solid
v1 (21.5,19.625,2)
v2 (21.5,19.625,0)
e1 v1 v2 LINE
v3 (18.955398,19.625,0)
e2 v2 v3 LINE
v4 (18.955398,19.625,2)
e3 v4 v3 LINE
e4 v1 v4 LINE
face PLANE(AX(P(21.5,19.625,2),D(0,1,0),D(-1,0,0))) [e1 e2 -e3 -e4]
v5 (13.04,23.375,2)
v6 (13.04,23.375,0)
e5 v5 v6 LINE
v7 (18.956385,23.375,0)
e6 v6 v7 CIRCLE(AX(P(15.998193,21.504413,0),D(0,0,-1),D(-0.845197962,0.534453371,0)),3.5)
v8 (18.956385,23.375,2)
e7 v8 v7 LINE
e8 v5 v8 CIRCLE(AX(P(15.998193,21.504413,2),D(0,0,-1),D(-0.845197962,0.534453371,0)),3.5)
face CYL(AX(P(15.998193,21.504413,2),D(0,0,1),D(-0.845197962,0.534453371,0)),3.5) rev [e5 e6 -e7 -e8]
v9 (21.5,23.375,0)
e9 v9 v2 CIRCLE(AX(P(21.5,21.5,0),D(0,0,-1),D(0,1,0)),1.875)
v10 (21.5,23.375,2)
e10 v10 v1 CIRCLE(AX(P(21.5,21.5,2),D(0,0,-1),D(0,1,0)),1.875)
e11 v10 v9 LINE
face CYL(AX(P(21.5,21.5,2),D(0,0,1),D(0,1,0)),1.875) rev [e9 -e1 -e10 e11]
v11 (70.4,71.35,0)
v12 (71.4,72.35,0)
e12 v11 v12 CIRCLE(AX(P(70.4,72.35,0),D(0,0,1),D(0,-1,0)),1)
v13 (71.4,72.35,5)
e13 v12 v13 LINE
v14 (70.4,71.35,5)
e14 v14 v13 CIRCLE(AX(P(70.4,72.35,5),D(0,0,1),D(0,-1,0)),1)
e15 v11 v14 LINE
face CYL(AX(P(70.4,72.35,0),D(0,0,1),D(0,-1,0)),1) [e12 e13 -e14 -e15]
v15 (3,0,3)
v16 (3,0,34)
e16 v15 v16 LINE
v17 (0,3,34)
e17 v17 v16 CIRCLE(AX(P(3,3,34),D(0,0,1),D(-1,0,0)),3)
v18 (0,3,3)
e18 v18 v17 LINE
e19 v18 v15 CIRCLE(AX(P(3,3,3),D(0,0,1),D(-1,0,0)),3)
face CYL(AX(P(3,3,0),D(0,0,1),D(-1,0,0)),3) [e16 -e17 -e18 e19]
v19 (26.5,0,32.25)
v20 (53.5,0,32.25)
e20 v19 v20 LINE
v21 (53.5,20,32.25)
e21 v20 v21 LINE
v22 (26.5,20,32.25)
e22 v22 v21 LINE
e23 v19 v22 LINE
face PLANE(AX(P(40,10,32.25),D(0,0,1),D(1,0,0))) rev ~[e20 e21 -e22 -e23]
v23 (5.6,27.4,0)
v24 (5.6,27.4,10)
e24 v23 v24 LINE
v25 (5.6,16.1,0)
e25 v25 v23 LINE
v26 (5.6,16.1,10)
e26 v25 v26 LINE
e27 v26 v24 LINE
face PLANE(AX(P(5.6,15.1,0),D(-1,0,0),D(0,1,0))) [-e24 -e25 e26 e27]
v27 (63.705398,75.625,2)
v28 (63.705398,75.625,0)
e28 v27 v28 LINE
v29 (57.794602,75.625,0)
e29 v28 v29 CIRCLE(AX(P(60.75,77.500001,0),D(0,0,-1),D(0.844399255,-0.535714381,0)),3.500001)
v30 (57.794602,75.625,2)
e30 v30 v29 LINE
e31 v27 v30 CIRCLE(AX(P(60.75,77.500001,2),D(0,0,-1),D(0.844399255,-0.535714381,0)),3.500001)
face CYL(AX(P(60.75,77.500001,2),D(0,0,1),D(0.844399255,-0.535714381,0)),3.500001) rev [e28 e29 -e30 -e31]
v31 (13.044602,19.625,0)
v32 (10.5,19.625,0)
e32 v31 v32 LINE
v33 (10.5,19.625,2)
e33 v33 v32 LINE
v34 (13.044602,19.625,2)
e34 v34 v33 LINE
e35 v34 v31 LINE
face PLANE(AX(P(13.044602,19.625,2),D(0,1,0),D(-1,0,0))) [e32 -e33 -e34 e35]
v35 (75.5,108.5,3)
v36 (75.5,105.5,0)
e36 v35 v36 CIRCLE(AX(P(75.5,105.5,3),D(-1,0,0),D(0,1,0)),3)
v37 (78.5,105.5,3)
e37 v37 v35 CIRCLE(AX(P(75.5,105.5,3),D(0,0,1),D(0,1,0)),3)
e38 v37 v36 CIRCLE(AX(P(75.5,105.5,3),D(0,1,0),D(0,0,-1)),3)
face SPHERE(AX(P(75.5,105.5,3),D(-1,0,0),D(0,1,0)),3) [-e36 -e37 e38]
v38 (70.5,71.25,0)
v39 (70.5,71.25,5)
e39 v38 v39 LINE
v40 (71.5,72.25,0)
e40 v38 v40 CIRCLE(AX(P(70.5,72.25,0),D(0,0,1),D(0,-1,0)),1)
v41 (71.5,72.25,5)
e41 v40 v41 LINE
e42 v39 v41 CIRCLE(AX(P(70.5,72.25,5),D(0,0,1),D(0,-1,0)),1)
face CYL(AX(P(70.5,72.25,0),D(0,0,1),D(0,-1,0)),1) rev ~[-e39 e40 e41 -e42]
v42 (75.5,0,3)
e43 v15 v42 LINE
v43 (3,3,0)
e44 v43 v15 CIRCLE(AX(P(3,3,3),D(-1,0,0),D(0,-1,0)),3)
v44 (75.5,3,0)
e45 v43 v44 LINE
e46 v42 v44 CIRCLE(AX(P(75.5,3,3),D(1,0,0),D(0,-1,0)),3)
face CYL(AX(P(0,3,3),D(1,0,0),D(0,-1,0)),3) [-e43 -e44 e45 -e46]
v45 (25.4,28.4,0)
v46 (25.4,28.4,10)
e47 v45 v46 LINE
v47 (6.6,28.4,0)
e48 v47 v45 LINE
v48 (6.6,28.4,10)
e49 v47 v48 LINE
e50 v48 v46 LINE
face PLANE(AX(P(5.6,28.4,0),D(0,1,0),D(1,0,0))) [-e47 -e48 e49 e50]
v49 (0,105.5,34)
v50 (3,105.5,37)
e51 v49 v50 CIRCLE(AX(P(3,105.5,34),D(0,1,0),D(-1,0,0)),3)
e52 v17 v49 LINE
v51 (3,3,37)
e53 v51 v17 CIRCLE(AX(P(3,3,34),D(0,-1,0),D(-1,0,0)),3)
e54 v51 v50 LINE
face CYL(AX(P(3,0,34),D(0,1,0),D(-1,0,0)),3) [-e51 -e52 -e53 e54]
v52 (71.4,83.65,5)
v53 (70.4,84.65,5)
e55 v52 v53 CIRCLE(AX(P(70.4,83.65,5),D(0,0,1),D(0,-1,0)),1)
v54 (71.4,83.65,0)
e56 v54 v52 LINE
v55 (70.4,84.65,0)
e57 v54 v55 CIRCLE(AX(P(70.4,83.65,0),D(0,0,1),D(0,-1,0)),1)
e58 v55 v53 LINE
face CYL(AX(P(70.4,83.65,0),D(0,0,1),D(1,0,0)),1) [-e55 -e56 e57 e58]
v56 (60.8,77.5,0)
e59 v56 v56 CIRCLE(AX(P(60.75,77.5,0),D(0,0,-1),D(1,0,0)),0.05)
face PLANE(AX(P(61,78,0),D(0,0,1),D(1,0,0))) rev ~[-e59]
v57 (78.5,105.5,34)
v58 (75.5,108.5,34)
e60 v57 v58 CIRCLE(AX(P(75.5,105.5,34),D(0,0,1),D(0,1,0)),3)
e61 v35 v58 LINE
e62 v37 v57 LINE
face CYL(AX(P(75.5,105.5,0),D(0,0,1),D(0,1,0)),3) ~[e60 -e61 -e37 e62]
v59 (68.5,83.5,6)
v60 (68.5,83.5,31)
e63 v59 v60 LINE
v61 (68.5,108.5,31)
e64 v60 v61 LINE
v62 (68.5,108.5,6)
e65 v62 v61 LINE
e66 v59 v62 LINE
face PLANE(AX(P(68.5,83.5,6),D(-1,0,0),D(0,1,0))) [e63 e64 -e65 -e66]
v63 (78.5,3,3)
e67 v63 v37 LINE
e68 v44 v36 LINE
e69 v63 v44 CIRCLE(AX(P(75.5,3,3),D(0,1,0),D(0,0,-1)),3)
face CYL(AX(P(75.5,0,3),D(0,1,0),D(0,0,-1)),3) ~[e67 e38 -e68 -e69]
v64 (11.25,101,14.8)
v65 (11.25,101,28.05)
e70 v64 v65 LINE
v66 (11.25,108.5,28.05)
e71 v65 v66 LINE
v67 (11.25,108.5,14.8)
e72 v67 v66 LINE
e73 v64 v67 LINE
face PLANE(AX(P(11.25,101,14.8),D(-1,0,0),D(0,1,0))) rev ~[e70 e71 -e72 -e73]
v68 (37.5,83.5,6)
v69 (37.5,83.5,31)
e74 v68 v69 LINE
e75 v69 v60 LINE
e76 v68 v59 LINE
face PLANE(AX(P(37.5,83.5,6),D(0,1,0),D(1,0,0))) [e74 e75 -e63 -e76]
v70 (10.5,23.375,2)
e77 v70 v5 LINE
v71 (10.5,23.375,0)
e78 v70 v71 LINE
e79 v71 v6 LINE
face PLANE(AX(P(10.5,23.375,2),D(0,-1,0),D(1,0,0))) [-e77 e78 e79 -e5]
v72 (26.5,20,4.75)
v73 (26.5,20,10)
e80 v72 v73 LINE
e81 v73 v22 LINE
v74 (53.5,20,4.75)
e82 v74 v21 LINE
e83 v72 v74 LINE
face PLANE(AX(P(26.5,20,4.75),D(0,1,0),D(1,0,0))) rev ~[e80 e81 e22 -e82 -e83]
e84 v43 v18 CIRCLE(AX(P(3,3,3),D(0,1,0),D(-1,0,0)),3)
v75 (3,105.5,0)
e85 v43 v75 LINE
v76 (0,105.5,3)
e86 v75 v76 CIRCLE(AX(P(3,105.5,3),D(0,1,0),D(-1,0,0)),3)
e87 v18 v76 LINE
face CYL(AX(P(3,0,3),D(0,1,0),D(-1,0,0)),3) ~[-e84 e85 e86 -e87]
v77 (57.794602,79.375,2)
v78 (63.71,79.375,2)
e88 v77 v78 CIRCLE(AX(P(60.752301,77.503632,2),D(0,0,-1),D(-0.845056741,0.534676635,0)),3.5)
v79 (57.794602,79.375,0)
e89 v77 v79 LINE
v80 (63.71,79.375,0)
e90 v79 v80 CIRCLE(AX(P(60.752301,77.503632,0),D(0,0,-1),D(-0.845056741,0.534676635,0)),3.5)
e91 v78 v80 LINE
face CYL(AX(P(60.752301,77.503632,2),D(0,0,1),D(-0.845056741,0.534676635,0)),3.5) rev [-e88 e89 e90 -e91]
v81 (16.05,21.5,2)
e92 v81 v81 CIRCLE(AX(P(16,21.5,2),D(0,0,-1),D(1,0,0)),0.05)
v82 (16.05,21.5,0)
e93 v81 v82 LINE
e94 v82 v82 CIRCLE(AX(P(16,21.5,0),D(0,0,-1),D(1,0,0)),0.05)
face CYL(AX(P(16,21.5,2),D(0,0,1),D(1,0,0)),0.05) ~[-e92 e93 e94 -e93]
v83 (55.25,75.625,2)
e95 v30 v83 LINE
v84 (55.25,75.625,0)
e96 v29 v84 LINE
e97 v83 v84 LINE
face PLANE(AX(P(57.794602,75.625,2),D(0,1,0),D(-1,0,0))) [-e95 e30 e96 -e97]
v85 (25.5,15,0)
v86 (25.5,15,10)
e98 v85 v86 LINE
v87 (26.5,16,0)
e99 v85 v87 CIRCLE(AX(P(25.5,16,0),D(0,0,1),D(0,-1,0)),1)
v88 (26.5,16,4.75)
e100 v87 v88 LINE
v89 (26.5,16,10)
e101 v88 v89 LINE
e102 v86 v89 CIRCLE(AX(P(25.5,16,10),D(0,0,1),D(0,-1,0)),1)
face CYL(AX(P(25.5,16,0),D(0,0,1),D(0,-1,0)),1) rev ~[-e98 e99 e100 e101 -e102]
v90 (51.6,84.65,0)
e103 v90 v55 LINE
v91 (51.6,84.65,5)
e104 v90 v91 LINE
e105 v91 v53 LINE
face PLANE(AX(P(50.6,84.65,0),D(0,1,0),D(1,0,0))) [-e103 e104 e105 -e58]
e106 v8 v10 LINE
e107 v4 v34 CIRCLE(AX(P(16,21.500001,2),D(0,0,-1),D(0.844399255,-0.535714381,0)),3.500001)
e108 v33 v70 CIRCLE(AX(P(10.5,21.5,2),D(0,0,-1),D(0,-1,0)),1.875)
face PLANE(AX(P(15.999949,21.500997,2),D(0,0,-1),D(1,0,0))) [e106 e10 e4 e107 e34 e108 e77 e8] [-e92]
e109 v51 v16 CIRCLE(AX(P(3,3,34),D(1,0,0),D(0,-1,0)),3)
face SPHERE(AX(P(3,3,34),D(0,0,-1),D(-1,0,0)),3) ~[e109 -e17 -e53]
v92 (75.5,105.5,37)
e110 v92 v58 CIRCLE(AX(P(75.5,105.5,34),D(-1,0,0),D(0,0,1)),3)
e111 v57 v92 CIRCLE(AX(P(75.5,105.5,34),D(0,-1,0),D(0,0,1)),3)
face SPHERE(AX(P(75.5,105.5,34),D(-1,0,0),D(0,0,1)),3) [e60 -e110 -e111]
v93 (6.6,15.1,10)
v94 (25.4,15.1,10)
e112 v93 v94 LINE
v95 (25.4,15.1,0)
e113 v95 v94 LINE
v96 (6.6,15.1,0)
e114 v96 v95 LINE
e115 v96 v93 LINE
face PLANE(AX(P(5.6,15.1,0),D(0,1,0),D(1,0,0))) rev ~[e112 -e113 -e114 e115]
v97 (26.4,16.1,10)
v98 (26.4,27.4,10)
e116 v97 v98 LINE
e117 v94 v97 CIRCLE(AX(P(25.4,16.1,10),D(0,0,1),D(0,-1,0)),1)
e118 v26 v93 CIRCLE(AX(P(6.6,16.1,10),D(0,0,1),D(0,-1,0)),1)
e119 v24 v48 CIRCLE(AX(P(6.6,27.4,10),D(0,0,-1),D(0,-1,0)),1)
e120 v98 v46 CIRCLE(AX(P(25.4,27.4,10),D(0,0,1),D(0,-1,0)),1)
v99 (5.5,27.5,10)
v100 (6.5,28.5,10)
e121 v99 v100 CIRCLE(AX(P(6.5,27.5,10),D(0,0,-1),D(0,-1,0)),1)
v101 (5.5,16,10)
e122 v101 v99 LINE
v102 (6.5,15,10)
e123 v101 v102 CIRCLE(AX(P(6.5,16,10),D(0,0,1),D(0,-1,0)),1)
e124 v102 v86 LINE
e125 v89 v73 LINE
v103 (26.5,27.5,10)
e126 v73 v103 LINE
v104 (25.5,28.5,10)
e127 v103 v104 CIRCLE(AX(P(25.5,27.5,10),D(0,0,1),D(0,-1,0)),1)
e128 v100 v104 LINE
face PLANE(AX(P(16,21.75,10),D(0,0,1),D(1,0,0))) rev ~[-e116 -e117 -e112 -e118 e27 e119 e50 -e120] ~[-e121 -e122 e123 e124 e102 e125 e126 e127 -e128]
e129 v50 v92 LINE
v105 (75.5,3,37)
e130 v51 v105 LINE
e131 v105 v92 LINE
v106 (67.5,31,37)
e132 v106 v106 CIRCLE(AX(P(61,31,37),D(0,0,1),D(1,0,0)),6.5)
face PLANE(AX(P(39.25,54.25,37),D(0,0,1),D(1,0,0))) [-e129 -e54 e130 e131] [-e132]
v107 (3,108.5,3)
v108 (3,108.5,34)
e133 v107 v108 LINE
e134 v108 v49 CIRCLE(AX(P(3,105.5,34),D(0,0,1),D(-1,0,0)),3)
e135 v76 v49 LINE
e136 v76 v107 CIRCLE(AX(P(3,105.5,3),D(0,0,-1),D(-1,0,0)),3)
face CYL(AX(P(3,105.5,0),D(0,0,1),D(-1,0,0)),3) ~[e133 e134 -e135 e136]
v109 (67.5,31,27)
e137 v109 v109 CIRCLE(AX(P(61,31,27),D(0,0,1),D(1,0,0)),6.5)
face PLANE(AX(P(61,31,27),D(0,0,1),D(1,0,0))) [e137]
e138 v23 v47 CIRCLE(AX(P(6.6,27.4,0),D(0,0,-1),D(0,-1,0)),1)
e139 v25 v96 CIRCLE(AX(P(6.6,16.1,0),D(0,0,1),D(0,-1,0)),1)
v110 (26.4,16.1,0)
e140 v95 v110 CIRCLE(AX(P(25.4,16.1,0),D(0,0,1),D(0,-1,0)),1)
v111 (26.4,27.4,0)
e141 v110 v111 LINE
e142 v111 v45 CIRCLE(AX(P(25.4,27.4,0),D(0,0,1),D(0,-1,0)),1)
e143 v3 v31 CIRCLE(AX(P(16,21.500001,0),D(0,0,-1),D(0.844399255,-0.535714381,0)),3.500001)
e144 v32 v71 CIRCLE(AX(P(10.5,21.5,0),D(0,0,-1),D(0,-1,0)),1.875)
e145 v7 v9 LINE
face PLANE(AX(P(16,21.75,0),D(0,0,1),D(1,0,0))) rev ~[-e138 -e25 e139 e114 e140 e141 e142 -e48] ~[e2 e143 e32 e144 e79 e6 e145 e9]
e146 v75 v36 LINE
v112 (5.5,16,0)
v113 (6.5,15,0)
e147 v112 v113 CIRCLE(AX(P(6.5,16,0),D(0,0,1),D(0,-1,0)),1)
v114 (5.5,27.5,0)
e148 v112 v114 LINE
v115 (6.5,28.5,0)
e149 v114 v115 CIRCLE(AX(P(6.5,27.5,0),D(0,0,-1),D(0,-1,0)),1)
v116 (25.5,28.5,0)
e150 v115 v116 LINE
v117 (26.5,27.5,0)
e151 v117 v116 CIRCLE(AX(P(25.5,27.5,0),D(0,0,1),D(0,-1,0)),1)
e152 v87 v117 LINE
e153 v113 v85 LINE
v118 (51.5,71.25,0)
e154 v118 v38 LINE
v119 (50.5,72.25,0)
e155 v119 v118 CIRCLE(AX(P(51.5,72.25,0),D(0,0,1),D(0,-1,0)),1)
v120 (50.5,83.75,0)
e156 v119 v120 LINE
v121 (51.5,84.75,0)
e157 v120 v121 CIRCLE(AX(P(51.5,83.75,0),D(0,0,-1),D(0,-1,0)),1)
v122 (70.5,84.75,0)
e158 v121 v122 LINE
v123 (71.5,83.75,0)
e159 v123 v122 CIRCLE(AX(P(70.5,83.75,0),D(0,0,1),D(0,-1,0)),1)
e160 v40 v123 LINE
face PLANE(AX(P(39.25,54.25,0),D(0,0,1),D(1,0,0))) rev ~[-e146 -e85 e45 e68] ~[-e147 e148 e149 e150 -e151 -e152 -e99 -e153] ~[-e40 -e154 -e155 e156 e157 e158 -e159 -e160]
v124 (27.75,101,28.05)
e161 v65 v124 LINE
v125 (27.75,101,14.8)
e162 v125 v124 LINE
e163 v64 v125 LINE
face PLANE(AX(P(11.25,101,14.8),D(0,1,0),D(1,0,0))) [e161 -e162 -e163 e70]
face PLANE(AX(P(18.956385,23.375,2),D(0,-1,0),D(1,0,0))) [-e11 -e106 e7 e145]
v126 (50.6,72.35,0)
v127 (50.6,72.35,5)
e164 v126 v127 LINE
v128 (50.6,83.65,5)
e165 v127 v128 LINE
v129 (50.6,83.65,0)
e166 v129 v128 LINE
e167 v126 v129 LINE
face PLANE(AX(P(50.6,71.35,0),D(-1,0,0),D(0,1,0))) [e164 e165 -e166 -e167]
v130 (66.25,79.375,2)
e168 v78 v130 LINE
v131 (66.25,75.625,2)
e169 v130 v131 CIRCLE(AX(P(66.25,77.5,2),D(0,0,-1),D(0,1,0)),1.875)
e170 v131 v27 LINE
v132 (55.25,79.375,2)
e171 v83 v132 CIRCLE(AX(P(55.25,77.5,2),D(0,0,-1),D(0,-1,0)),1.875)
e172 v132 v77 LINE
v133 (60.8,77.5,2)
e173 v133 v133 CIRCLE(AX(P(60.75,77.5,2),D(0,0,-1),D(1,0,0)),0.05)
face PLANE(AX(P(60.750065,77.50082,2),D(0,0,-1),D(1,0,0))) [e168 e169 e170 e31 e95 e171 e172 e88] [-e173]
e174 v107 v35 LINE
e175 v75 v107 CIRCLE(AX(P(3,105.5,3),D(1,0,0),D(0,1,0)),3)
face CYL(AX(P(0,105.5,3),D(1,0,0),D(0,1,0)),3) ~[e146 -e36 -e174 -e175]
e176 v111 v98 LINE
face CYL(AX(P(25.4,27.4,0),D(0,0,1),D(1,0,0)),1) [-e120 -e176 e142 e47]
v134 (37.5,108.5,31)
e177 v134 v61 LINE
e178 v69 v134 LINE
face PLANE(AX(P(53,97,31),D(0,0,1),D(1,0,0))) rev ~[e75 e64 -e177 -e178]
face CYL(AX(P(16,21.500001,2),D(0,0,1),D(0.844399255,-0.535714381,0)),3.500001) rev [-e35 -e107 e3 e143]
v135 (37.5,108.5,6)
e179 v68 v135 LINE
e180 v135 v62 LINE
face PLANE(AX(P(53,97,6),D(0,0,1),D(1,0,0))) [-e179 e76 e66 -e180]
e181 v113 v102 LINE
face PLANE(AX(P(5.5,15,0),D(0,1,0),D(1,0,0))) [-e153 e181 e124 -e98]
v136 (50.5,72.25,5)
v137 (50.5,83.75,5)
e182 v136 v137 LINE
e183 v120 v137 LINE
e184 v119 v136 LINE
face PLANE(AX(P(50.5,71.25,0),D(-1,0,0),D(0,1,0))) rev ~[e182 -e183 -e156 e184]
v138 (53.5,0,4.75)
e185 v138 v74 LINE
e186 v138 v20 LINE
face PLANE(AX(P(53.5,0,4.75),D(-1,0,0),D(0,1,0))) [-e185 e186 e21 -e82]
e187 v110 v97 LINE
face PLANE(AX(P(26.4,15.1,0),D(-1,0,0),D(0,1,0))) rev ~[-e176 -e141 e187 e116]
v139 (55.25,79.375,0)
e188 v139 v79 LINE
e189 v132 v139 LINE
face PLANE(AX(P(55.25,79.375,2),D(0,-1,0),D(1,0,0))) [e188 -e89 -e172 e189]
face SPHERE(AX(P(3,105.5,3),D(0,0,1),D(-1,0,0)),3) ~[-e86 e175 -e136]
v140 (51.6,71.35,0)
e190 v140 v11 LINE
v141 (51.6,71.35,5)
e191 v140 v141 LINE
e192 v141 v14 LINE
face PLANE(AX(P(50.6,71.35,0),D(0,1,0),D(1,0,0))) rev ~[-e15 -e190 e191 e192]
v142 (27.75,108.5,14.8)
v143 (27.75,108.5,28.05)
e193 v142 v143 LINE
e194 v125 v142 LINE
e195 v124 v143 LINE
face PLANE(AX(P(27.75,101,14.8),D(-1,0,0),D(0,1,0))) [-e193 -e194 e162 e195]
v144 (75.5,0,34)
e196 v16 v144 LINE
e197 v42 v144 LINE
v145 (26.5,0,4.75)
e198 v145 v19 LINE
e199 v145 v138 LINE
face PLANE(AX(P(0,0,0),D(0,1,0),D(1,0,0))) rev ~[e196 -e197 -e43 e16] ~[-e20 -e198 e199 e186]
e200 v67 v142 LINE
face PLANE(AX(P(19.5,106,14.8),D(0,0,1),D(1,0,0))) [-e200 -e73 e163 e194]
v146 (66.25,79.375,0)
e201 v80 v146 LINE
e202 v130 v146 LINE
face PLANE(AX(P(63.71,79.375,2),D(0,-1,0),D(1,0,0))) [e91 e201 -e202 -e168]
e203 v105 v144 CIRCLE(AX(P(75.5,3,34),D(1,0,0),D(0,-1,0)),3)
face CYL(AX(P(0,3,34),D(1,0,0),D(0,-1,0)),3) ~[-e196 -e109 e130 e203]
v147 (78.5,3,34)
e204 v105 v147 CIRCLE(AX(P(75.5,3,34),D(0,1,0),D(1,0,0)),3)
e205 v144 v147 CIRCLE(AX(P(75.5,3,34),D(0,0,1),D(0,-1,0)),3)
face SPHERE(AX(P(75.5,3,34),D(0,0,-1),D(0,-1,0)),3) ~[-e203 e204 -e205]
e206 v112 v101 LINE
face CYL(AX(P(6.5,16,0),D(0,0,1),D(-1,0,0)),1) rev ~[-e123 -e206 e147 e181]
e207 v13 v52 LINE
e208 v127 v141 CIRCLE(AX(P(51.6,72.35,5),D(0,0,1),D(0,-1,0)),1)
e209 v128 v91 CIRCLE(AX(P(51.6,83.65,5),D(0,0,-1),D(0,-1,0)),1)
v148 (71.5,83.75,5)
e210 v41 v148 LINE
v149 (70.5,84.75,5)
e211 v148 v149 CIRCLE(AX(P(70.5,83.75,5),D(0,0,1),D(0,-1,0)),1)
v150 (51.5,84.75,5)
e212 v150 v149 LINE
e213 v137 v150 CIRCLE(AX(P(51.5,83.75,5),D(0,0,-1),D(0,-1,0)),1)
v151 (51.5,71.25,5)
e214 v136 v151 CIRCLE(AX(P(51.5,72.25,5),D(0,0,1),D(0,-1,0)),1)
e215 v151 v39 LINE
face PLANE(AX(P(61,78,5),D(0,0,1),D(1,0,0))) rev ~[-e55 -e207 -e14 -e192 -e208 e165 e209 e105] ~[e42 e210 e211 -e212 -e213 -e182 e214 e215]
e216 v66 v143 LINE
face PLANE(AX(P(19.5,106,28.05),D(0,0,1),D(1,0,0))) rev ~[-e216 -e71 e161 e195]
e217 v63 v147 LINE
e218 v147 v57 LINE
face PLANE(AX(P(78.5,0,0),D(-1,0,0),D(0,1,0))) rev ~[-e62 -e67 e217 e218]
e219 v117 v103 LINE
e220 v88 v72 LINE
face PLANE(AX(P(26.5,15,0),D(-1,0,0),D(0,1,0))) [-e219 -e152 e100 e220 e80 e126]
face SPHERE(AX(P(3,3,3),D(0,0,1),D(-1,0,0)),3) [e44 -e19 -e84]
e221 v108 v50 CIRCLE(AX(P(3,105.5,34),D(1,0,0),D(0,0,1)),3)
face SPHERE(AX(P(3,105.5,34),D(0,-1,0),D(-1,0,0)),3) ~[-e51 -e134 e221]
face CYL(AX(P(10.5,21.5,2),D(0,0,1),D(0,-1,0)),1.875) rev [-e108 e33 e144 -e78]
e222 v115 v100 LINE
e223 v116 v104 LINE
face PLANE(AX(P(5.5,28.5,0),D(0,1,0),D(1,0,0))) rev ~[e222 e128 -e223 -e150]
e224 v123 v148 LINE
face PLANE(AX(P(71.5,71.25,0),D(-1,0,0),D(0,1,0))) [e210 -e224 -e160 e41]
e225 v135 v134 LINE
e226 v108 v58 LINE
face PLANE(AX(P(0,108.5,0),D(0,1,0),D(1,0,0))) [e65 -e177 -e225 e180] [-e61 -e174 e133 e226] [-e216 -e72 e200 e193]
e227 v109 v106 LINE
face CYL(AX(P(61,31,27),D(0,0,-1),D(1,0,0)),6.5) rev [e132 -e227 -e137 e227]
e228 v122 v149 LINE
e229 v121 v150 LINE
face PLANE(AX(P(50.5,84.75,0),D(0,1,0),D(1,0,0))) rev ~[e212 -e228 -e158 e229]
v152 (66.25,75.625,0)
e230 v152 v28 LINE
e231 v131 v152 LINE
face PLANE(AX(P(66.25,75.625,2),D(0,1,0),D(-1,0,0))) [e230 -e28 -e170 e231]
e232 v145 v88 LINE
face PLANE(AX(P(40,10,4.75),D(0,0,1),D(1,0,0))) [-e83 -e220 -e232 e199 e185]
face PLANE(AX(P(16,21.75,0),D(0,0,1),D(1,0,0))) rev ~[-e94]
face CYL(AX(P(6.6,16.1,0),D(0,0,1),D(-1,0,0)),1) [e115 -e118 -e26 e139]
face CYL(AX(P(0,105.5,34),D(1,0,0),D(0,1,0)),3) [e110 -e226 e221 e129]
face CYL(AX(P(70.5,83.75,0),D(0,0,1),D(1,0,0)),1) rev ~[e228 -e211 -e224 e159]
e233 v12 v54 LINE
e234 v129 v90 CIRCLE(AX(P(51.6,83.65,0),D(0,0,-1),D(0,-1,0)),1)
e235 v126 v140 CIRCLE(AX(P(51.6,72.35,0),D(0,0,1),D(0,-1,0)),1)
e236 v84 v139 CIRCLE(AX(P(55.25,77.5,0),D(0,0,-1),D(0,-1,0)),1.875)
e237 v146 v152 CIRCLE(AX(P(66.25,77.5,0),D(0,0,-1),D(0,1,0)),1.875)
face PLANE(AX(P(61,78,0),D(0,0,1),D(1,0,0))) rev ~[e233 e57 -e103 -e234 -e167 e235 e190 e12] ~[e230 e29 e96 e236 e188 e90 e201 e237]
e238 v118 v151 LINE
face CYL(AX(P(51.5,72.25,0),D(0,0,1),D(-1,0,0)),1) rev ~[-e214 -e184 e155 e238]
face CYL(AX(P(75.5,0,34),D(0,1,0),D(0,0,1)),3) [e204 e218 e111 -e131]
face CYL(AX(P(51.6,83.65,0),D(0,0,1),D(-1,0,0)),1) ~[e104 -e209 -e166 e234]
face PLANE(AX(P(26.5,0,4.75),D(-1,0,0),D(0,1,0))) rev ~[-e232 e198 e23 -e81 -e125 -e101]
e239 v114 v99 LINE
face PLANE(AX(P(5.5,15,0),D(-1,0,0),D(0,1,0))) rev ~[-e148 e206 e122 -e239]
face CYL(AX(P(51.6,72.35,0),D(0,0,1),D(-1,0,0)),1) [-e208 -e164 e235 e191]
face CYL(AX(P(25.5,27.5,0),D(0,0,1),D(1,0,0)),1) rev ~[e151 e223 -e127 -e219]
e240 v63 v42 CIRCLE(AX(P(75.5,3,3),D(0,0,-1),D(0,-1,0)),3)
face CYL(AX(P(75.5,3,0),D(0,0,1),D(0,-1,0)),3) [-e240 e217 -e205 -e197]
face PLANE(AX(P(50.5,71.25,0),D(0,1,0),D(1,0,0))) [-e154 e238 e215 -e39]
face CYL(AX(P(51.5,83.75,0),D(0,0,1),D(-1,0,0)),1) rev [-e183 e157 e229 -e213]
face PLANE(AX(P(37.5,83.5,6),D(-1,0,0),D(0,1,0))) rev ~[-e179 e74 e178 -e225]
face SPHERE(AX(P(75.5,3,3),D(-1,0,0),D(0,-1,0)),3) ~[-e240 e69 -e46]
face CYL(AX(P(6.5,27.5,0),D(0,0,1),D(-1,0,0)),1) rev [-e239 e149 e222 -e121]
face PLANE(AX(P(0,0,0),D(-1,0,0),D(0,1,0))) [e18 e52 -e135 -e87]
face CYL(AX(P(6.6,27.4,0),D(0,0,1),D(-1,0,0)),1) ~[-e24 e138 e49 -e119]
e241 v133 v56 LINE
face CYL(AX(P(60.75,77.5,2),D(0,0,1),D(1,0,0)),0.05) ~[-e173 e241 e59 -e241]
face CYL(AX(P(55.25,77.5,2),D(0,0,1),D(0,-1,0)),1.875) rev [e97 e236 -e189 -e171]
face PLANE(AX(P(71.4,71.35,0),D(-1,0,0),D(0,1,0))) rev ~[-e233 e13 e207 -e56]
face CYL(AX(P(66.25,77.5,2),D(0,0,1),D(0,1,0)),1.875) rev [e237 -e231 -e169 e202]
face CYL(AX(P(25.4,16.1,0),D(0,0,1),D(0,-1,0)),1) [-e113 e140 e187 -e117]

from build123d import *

# Parameters (mm, degrees)
SKETCH001_R       = 0.05
EXTRUDE001_DEPTH  = 2
BOX017_W          = 21
BOX017_H          = 13.5
BOX017_DEPTH      = 5
FILLET006_R       = 1
BOX007_W          = 21
BOX007_H          = 13.5
BOX007_DEPTH      = 10
FILLET004_R       = 1
BOX006_W          = 16.5
BOX006_H          = 10
BOX006_DEPTH      = 13.25
BOX005_W          = 31
BOX005_H          = 27
BOX005_DEPTH      = 25
CYLINDER004_R     = 6.5
CYLINDER004_DEPTH = 10
BOX014_W          = 27
BOX014_H          = 20
BOX014_DEPTH      = 27.5
BOX013_W          = 78.5
BOX013_H          = 108.5
BOX013_DEPTH      = 37
FILLET003_R       = 3
BOX018_W          = 20.8
BOX018_H          = 13.3
BOX018_DEPTH      = 5
FILLET007_R       = 1
BOX016_W          = 20.8
BOX016_H          = 13.3
BOX016_DEPTH      = 10
FILLET005_R       = 1


with BuildPart() as extrude001:
    # Sketch001 → Extrude001 (new body)
    with BuildSketch(Plane(origin=(0, 0, 0), x_dir=(1, 0, 0), z_dir=(0, 0, -1))):
        with BuildLine():
            ThreePointArc((10.5, -19.625), (8.625, -21.5), (10.5, -23.375))
            Line((10.5, -23.375), (13.04, -23.375))
            ThreePointArc((13.04, -23.375), (15.998193, -25.004413), (18.956385, -23.375))
            Line((18.956385, -23.375), (21.5, -23.375))
            ThreePointArc((21.5, -23.375), (23.375, -21.5), (21.5, -19.625))
            Line((21.5, -19.625), (18.955398, -19.625))
            ThreePointArc((18.955398, -19.625), (16, -18), (13.044602, -19.625))
            Line((13.044602, -19.625), (10.5, -19.625))
        make_face()
        with Locations((16, -21.5)):
            Circle(SKETCH001_R, mode=Mode.SUBTRACT)
        with BuildLine():
            ThreePointArc((55.25, -75.625), (53.375, -77.5), (55.25, -79.375))
            Line((55.25, -79.375), (57.794602, -79.375))
            ThreePointArc((57.794602, -79.375), (60.752301, -81.003632), (63.71, -79.375))
            Line((63.71, -79.375), (66.25, -79.375))
            ThreePointArc((66.25, -79.375), (68.125, -77.5), (66.25, -75.625))
            Line((66.25, -75.625), (63.705398, -75.625))
            ThreePointArc((63.705398, -75.625), (60.75, -74), (57.794602, -75.625))
            Line((57.794602, -75.625), (55.25, -75.625))
        make_face()
        with Locations((60.75, -77.5)):
            Circle(SKETCH001_R, mode=Mode.SUBTRACT)
    extrude(amount=EXTRUDE001_DEPTH)


with BuildPart() as extrude001_1:
    # Extrude001 placement: moved
    add(extrude001.part.moved(Location((0, 0, 2))))


with BuildPart() as key_hole001:
    # Box017 → Box017 (new body)
    with BuildSketch(Plane(origin=(5.5, 13.5, 0), x_dir=(1, 0, 0), z_dir=(0, 0, 1))):
        with Locations((10.5, 6.75)):
            Rectangle(BOX017_W, BOX017_H)
    extrude(amount=BOX017_DEPTH)

    # Fillet006
    fillet006_edges = [key_hole001.edges().sort_by_distance(p)[0] for p in [
        (5.5, 13.5, 2.5),
        (5.5, 27, 2.5),
        (26.5, 13.5, 2.5),
        (26.5, 27, 2.5),
    ]]
    fillet(fillet006_edges, radius=FILLET006_R)


with BuildPart() as key_hole001_1:
    # Fillet006 placement: moved
    add(key_hole001.part.moved(Location((45, 57.75, 0))))


with BuildPart() as key_hole:
    # Box007 → Box007 (new body)
    with BuildSketch(Plane(origin=(5.5, 15, 0), x_dir=(1, 0, 0), z_dir=(0, 0, 1))):
        with Locations((10.5, 6.75)):
            Rectangle(BOX007_W, BOX007_H)
    extrude(amount=BOX007_DEPTH)

    # Fillet004
    fillet004_edges = [key_hole.edges().sort_by_distance(p)[0] for p in [
        (5.5, 15, 5),
        (5.5, 28.5, 5),
        (26.5, 15, 5),
        (26.5, 28.5, 5),
    ]]
    fillet(fillet004_edges, radius=FILLET004_R)


with BuildPart() as lan_cube:
    # Box006 → Box006 (new body)
    with BuildSketch(Plane(origin=(11.25, 101, 14.8), x_dir=(1, 0, 0), z_dir=(0, 0, 1))):
        with Locations((8.25, 5)):
            Rectangle(BOX006_W, BOX006_H)
    extrude(amount=BOX006_DEPTH)


with BuildPart() as cube009:
    # Box005 → Box005 (new body)
    with BuildSketch(Plane(origin=(37.5, 83.5, 6), x_dir=(1, 0, 0), z_dir=(0, 0, 1))):
        with Locations((15.5, 13.5)):
            Rectangle(BOX005_W, BOX005_H)
    extrude(amount=BOX005_DEPTH)


with BuildPart() as cylinder004:
    # Cylinder004 → Cylinder004 (new body)
    with BuildSketch(Plane(origin=(61, 31, 27), x_dir=(1, 0, 0), z_dir=(0, 0, 1))):
        Circle(CYLINDER004_R)
    extrude(amount=CYLINDER004_DEPTH)


with BuildPart() as cube001:
    # Box014 → Box014 (new body)
    with BuildSketch(Plane(origin=(26.5, 0, 4.75), x_dir=(1, 0, 0), z_dir=(0, 0, 1))):
        with Locations((13.5, 10)):
            Rectangle(BOX014_W, BOX014_H)
    extrude(amount=BOX014_DEPTH)


with BuildPart() as hole2:
    # Box013 → Box013 (new body)
    with BuildSketch(Plane.XY):
        with Locations((39.25, 54.25)):
            Rectangle(BOX013_W, BOX013_H)
    extrude(amount=BOX013_DEPTH)

    # Cut001: cut Cube001
    add(cube001.part, mode=Mode.SUBTRACT)

    # Cut002: cut Cylinder004
    add(cylinder004.part, mode=Mode.SUBTRACT)

    # Cut006: cut Cube009
    add(cube009.part, mode=Mode.SUBTRACT)

    # Cut007: cut lan_cube
    add(lan_cube.part, mode=Mode.SUBTRACT)

    # Fillet003
    fillet003_edges = [hole2.edges().sort_by_distance(p)[0] for p in [
        (0, 0, 18.5),
        (0, 54.25, 37),
        (0, 108.5, 18.5),
        (0, 54.25, 0),
        (39.25, 0, 0),
        (78.5, 0, 18.5),
        (39.25, 0, 37),
        (39.25, 108.5, 37),
        (78.5, 54.25, 37),
        (39.25, 108.5, 0),
        (78.5, 108.5, 18.5),
        (78.5, 54.25, 0),
    ]]
    fillet(fillet003_edges, radius=FILLET003_R)

    # Cut008: cut Key_hole
    add(key_hole.part, mode=Mode.SUBTRACT)

    # Cut009: cut Key_hole001
    add(key_hole001_1.part, mode=Mode.SUBTRACT)


with BuildPart() as key_hole002:
    # Box018 → Box018 (new body)
    with BuildSketch(Plane(origin=(5.5, 13.5, 0), x_dir=(1, 0, 0), z_dir=(0, 0, 1))):
        with Locations((10.4, 6.65)):
            Rectangle(BOX018_W, BOX018_H)
    extrude(amount=BOX018_DEPTH)

    # Fillet007
    fillet007_edges = [key_hole002.edges().sort_by_distance(p)[0] for p in [
        (5.5, 13.5, 2.5),
        (5.5, 26.8, 2.5),
        (26.3, 13.5, 2.5),
        (26.3, 26.8, 2.5),
    ]]
    fillet(fillet007_edges, radius=FILLET007_R)


with BuildPart() as key_hole002_1:
    # Fillet007 placement: moved
    add(key_hole002.part.moved(Location((45.1, 57.85, 0))))


with BuildPart() as cut010:
    # Box016 → Box016 (new body)
    with BuildSketch(Plane(origin=(5.6, 15.1, 0), x_dir=(1, 0, 0), z_dir=(0, 0, 1))):
        with Locations((10.4, 6.65)):
            Rectangle(BOX016_W, BOX016_H)
    extrude(amount=BOX016_DEPTH)

    # Fillet005
    fillet005_edges = [cut010.edges().sort_by_distance(p)[0] for p in [
        (5.6, 15.1, 5),
        (5.6, 28.4, 5),
        (26.4, 15.1, 5),
        (26.4, 28.4, 5),
    ]]
    fillet(fillet005_edges, radius=FILLET005_R)

    # Fusion007: union Hole2, Key_hole002
    add(hole2.part)
    add(key_hole002_1.part)

    # Cut010: cut Extrude001
    add(extrude001_1.part, mode=Mode.SUBTRACT)


solid = cut010.part
